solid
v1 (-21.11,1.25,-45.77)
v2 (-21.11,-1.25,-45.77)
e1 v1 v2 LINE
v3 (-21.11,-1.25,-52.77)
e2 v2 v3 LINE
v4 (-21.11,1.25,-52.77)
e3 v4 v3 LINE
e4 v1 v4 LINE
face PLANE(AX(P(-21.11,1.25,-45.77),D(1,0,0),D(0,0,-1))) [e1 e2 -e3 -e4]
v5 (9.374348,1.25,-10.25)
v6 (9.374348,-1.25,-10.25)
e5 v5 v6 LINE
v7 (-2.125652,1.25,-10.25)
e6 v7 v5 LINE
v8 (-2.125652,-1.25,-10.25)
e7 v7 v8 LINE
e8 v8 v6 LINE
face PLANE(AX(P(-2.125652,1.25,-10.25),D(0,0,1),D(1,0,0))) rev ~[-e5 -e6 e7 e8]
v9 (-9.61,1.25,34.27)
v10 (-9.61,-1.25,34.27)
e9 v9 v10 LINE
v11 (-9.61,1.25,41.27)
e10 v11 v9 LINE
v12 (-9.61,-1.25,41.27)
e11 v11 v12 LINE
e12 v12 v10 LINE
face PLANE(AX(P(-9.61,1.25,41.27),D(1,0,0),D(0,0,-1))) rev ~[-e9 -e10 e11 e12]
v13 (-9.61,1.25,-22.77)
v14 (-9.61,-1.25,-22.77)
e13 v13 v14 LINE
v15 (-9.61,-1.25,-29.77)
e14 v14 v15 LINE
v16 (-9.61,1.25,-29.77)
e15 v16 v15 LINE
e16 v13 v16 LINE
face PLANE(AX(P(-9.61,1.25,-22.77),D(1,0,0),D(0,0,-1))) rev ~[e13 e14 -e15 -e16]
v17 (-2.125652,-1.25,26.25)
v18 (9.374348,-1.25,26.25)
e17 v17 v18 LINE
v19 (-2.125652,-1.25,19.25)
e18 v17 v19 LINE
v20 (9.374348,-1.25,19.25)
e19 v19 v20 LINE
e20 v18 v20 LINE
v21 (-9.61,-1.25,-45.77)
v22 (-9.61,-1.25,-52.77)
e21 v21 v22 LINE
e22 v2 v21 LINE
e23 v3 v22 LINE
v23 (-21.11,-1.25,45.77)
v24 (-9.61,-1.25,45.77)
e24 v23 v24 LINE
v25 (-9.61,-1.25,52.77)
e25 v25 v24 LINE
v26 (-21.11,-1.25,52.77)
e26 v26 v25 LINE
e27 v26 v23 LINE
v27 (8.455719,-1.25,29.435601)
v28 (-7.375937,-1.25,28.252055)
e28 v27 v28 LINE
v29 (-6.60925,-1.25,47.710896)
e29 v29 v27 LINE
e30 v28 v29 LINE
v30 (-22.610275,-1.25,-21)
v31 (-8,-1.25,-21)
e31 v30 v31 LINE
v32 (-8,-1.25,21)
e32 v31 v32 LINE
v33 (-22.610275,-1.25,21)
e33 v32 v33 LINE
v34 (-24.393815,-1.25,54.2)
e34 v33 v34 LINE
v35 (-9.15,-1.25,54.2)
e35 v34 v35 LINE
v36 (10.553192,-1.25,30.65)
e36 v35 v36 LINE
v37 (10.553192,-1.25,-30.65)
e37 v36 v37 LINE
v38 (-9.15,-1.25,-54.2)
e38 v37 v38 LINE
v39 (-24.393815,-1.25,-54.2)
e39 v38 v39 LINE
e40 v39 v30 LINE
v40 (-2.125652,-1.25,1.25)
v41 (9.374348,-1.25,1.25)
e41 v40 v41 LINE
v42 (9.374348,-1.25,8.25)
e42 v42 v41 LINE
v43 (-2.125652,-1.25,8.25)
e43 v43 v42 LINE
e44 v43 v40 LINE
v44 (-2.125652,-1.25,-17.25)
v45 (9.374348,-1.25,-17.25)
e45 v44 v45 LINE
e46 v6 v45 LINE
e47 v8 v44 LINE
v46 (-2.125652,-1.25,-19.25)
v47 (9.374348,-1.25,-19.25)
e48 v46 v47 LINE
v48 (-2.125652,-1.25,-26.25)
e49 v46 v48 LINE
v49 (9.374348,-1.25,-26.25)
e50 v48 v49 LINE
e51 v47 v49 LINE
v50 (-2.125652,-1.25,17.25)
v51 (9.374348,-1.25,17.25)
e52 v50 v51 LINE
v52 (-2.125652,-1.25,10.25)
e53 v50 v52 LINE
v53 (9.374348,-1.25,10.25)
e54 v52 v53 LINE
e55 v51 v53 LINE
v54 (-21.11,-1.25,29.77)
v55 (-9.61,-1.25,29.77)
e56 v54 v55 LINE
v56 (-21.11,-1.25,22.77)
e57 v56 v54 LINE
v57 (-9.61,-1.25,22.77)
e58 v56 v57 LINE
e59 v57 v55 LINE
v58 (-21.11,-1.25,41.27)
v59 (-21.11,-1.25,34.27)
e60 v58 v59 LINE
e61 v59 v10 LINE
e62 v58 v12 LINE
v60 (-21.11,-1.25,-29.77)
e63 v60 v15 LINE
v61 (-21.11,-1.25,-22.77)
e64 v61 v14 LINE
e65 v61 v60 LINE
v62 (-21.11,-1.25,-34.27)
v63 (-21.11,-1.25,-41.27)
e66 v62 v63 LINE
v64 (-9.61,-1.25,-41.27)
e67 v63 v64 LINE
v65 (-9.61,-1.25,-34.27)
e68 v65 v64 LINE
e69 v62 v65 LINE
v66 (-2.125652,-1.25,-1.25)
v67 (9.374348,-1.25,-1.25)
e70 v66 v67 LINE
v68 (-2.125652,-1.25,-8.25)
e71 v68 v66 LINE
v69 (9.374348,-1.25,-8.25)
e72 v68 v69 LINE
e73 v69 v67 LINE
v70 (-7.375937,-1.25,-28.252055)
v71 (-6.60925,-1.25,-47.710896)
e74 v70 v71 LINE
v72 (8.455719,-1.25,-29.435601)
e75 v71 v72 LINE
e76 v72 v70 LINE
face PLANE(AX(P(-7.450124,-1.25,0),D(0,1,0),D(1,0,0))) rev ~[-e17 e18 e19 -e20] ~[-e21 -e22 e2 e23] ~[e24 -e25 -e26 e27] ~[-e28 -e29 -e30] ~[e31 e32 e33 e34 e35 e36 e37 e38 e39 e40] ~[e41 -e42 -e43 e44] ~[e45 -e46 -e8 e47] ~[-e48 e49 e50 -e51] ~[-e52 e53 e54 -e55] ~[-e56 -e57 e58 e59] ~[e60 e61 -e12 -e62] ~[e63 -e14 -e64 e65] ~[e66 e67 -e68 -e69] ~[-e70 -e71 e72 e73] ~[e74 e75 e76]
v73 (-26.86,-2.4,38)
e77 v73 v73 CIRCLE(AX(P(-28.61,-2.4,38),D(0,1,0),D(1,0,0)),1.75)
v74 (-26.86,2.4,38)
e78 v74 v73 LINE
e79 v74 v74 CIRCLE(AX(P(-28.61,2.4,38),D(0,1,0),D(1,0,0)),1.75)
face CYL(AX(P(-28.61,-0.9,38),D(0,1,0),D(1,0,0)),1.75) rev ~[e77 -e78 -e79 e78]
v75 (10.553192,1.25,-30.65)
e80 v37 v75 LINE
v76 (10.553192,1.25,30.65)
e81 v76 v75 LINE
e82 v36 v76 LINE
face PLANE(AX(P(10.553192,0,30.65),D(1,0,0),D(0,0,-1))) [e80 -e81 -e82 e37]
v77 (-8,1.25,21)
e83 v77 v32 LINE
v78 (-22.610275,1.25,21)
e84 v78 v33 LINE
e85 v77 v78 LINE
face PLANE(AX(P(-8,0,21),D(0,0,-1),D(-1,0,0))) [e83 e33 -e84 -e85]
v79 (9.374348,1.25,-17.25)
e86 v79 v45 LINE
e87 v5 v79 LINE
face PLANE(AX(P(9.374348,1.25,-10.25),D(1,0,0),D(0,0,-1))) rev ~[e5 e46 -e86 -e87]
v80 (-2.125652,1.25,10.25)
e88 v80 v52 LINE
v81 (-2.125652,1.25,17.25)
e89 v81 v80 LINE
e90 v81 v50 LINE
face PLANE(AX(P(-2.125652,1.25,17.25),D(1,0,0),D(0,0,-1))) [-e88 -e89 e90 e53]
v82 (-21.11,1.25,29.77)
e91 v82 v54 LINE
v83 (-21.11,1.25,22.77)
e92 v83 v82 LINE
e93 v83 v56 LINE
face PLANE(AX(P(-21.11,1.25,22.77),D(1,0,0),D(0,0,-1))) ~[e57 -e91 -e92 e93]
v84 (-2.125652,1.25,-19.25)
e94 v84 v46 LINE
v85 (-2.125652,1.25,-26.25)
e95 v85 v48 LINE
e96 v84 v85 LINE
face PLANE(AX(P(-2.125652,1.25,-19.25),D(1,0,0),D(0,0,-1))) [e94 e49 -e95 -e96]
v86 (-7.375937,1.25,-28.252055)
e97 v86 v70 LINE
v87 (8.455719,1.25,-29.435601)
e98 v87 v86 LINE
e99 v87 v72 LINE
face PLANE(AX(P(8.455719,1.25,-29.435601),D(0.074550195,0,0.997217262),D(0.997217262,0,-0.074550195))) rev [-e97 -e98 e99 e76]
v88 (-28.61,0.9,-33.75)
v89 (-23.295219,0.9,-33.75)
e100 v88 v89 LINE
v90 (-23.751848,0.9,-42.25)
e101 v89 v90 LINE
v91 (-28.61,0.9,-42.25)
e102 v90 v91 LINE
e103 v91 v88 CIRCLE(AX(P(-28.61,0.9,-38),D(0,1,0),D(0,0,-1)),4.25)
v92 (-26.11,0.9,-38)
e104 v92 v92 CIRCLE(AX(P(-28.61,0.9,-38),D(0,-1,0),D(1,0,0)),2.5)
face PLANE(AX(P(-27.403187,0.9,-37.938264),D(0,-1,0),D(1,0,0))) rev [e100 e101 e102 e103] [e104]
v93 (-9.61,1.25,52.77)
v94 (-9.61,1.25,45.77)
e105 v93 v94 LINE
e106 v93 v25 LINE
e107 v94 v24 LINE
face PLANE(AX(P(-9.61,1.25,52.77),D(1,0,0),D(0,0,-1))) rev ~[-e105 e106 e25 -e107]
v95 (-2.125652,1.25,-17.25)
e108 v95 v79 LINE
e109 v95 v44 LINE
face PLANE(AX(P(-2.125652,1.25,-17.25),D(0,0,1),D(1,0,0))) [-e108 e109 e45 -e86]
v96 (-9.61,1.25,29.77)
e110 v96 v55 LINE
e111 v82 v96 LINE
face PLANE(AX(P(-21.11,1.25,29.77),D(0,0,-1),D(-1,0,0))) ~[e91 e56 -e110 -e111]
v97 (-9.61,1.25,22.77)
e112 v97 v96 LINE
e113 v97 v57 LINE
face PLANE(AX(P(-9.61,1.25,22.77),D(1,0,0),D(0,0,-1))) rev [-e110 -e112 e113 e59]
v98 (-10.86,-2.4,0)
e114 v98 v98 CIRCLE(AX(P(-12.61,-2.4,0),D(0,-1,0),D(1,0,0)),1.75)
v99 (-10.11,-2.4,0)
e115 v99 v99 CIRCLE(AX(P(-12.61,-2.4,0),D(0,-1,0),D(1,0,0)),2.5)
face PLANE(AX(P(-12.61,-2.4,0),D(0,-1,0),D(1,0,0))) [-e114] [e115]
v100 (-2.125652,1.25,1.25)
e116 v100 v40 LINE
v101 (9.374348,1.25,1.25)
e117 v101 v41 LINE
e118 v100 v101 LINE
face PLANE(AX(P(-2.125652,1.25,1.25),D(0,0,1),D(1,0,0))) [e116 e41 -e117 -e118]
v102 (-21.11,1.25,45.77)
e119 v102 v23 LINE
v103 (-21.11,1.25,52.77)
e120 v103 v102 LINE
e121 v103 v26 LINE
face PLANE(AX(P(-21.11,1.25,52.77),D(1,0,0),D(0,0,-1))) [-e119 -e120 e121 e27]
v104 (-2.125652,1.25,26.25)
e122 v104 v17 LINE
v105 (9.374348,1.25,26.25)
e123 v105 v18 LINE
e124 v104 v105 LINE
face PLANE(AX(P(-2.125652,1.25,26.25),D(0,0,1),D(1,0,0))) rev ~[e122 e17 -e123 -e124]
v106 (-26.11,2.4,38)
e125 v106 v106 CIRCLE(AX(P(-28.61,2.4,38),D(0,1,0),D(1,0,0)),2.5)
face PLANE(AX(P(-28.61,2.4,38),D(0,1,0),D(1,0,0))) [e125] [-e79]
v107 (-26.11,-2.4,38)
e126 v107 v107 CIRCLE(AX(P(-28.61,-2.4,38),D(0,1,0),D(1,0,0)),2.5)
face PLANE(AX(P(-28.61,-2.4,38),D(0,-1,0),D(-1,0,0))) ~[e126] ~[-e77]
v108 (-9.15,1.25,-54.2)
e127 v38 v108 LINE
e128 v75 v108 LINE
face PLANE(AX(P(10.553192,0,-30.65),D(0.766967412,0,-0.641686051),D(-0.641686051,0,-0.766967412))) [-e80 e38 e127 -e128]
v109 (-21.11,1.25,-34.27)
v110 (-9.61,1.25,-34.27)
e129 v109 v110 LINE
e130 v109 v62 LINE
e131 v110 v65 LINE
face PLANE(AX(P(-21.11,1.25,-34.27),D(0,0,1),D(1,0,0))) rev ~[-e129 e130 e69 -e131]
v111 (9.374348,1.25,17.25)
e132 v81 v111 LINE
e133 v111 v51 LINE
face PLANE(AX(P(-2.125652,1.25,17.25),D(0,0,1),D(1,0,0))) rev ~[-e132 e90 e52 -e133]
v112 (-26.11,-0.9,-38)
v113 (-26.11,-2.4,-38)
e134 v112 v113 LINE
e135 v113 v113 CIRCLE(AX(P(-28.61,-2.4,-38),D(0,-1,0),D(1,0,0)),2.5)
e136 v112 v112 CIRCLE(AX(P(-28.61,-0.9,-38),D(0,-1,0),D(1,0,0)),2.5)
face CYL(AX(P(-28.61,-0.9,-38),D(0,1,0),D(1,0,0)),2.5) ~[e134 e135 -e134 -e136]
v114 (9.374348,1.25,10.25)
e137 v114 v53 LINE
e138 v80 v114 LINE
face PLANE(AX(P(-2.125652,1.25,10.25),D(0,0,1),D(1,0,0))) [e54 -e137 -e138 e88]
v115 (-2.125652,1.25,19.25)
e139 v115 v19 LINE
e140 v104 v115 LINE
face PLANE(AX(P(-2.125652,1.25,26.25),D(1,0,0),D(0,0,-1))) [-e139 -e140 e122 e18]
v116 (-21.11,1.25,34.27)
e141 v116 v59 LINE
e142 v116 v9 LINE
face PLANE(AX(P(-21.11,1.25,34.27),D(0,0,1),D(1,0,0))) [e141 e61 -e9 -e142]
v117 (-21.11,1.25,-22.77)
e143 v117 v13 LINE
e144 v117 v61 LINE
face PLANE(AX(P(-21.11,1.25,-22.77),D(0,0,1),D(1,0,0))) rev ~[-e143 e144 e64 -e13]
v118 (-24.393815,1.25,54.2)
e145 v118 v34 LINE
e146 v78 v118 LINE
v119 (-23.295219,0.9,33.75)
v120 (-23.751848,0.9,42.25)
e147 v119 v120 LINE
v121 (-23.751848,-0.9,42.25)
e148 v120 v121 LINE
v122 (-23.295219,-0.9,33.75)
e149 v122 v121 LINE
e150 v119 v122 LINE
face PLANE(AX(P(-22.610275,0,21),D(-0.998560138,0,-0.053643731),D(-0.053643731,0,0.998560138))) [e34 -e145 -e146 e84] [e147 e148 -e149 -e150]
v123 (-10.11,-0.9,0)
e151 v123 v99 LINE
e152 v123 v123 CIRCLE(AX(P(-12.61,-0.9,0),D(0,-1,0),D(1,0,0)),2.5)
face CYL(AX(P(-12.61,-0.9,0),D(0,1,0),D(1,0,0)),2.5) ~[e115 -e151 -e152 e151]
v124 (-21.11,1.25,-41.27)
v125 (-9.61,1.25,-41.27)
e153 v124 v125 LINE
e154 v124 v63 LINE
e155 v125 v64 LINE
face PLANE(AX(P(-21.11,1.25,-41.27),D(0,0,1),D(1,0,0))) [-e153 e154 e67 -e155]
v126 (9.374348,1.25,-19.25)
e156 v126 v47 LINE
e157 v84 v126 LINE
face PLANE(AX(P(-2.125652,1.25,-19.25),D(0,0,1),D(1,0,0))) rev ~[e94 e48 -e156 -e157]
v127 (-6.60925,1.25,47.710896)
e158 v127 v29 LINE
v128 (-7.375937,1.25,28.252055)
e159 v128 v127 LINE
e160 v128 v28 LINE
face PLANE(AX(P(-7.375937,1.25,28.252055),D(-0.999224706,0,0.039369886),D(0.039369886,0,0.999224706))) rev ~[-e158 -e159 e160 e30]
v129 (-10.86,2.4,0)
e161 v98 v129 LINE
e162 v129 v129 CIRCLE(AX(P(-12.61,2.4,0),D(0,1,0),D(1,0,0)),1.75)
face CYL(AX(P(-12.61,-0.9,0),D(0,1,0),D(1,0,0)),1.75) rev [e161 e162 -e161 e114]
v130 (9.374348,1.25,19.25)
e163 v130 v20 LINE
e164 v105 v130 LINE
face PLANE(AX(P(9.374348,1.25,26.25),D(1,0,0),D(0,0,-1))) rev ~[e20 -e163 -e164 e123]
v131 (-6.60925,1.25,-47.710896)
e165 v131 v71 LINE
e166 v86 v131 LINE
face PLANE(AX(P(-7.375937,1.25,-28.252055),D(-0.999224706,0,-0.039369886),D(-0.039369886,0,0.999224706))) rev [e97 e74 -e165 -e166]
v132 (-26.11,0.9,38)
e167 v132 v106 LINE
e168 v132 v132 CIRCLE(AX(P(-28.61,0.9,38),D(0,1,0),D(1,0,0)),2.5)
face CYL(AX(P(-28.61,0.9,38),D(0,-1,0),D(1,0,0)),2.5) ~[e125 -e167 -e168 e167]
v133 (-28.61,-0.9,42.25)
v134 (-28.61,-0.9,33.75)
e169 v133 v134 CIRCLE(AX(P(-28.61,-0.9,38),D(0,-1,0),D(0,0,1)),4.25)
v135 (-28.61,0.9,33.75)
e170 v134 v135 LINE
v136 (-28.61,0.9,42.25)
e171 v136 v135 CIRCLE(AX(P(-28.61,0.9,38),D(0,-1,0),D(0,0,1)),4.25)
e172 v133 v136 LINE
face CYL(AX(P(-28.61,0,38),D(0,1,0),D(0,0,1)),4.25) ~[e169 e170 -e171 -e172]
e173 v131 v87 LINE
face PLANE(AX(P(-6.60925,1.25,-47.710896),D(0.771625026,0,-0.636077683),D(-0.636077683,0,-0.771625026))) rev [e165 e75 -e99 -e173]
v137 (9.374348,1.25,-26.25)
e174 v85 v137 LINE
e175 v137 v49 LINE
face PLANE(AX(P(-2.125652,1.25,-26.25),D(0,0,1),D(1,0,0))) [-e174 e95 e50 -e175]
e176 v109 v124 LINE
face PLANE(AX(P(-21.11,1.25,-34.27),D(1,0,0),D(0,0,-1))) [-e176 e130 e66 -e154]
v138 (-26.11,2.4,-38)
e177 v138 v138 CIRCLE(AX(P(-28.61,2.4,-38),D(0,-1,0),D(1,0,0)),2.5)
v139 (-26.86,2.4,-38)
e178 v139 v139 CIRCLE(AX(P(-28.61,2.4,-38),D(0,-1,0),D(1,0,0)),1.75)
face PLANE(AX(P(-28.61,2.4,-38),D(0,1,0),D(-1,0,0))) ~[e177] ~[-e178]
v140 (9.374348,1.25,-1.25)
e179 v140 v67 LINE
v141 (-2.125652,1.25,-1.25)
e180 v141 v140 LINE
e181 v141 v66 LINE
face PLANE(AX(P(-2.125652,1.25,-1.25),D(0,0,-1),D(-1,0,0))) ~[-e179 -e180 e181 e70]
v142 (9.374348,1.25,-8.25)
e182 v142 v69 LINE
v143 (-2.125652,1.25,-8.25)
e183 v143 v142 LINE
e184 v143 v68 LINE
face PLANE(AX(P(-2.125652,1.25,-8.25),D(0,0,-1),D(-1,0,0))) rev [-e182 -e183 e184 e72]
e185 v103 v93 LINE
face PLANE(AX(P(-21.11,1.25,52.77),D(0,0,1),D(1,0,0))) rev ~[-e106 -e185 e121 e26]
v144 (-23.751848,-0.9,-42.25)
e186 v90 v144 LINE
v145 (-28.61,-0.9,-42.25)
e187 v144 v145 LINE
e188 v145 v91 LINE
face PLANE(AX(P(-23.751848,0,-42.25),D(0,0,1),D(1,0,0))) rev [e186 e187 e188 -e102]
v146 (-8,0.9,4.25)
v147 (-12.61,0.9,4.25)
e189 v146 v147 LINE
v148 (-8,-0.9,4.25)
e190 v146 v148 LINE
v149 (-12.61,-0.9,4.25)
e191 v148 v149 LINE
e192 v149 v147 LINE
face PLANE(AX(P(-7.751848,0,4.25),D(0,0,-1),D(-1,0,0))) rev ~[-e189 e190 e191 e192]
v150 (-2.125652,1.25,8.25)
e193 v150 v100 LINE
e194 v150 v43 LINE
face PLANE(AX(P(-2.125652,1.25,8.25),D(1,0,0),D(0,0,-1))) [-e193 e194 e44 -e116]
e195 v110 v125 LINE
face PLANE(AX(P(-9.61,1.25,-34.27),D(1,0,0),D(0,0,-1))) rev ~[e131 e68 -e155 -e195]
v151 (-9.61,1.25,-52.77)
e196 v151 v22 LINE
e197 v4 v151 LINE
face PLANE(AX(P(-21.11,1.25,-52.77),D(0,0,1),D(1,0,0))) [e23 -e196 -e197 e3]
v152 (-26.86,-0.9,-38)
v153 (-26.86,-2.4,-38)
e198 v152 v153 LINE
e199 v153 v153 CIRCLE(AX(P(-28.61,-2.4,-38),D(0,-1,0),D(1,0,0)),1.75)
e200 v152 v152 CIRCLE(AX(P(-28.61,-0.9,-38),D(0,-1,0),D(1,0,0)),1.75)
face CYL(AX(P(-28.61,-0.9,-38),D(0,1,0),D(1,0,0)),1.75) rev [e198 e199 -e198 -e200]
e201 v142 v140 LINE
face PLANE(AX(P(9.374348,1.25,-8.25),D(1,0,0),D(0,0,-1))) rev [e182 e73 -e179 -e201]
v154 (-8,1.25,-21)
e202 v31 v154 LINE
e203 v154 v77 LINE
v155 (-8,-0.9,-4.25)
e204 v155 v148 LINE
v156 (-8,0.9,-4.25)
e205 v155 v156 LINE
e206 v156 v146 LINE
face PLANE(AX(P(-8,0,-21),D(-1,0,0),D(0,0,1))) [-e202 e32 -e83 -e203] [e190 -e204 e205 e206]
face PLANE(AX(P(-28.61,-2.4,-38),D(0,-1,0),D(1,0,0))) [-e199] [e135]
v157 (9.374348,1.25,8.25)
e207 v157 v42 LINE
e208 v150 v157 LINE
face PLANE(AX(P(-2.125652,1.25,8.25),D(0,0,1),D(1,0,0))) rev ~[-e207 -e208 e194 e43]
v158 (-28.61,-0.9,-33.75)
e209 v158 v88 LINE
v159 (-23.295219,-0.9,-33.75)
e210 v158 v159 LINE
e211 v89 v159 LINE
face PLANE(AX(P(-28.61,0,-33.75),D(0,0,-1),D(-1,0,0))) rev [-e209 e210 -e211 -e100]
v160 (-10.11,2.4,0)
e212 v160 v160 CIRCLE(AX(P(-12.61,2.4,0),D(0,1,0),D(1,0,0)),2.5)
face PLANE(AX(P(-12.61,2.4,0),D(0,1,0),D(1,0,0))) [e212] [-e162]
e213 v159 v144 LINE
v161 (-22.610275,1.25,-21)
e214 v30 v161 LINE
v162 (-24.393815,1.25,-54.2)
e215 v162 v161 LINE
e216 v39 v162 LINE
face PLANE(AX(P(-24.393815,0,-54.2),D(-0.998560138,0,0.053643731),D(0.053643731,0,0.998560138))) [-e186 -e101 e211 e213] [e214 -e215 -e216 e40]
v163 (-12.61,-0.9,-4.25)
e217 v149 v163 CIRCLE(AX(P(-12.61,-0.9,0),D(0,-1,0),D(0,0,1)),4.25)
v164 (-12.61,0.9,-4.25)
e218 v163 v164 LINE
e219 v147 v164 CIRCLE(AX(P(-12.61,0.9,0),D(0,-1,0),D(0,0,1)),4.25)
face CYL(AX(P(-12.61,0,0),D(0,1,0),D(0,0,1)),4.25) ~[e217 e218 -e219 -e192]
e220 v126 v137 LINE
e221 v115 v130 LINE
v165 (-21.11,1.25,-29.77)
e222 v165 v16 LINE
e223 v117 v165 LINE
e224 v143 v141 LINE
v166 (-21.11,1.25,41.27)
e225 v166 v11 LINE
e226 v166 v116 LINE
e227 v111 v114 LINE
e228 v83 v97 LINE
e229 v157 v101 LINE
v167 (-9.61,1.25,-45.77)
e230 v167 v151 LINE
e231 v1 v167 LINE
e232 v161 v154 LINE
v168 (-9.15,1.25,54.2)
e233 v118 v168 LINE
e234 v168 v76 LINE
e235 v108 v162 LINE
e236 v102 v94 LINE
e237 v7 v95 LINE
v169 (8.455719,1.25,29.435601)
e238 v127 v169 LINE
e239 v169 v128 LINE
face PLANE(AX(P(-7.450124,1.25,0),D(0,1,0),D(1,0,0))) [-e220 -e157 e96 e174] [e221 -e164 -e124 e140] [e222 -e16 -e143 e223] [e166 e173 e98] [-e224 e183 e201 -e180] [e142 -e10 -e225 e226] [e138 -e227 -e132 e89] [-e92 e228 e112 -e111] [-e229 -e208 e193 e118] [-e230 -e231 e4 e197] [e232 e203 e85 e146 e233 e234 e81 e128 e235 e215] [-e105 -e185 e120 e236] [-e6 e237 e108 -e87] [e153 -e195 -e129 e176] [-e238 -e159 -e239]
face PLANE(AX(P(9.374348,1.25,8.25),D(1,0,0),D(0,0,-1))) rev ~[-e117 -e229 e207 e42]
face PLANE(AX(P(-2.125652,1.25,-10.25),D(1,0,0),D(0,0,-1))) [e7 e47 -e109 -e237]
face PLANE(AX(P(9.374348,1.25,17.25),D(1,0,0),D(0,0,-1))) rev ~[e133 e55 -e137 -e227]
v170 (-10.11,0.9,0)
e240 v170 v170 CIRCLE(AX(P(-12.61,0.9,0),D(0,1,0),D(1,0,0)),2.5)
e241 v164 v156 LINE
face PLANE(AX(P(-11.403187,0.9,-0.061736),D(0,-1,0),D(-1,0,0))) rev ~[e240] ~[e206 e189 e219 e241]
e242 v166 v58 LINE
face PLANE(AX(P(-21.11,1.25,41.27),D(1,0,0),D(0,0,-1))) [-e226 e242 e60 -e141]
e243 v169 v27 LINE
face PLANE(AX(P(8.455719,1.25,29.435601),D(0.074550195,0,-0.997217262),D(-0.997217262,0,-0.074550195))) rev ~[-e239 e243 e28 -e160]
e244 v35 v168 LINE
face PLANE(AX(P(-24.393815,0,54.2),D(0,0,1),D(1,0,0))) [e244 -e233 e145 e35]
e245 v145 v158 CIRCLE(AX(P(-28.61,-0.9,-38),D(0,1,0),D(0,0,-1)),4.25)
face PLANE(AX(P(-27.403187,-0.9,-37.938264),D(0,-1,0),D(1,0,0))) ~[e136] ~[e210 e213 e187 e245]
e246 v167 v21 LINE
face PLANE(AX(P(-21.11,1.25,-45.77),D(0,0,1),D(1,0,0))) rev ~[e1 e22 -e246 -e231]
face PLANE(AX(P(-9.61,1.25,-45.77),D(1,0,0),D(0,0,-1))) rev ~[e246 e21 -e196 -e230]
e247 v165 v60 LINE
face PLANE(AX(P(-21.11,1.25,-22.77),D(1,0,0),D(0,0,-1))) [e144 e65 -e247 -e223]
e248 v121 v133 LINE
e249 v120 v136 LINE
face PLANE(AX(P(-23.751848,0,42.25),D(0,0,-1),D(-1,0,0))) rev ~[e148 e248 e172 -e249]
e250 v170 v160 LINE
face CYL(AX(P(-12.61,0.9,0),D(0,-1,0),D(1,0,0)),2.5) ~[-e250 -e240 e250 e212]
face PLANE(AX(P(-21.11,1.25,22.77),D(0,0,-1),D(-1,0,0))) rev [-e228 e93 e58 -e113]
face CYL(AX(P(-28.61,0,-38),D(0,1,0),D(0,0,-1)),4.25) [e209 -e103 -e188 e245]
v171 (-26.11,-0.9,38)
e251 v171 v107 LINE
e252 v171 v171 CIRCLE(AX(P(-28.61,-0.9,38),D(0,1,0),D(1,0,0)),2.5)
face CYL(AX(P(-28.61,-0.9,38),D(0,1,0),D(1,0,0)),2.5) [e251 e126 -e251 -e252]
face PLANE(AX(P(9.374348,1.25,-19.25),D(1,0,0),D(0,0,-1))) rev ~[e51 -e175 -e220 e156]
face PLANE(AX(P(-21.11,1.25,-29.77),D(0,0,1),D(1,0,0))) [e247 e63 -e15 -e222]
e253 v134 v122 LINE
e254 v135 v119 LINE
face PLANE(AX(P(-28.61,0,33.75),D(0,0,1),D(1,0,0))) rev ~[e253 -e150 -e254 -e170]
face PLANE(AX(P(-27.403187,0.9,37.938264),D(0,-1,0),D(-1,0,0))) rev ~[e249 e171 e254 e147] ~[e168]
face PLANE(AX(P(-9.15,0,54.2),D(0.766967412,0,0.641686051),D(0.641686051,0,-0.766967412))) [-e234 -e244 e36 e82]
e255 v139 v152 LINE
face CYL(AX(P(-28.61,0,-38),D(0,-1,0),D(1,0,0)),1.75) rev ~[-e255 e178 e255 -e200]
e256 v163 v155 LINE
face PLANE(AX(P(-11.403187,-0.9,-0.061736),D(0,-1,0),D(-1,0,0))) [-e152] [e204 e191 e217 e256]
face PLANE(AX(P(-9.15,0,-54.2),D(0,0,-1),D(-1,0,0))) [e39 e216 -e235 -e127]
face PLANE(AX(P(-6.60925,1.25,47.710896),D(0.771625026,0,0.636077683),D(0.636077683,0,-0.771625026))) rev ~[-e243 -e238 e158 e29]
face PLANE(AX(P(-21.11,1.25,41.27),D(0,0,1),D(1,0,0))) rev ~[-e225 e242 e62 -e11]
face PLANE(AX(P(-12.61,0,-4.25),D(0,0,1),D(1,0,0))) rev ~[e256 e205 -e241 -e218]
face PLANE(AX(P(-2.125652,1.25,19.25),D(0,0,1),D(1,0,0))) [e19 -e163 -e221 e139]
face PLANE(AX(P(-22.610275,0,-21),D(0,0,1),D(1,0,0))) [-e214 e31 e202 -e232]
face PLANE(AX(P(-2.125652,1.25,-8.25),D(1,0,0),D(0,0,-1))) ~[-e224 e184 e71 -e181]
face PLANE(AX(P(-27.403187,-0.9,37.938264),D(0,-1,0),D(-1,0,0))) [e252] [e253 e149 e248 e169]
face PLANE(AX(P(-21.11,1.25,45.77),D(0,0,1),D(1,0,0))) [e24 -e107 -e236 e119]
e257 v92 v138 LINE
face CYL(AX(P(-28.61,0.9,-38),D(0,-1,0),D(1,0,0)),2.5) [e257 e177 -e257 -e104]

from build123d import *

# Parameters (mm, degrees)
RESSALTO_EXTRUS_O1_DEPTH         = 1.25
ESBO_O5_W                        = 11.5
ESBO_O5_H                        = 7
CORTE_EXTRUS_O1_DEPTH            = 2.5
PADR_O_LINEAR1_COUNT             = 3
PADR_O_LINEAR1_PITCH             = 9
ESBO_O8_W                        = 11.5
ESBO_O8_H                        = 7
CORTE_EXTRUS_O4_DEPTH            = 10
PADR_O_LINEAR3_COUNT             = 3
PADR_O_LINEAR3_PITCH             = 11.5
ESPELHAR1_COPY_1_SKETCH_W        = 11.5
ESPELHAR1_COPY_1_SKETCH_H        = 7
ESPELHAR1_COPY_1_DEPTH           = 10
ESPELHAR1_COPY_2_SKETCH_W        = 11.5
ESPELHAR1_COPY_2_SKETCH_H        = 7
ESPELHAR1_COPY_2_DEPTH           = 10
ESPELHAR2_COPY_1_SKETCH_W        = 11.5
ESPELHAR2_COPY_1_SKETCH_H        = 7
ESPELHAR2_COPY_1_DEPTH           = 2.5
ESPELHAR2_COPY_2_SKETCH_W        = 11.5
ESPELHAR2_COPY_2_SKETCH_H        = 7
ESPELHAR2_COPY_2_DEPTH           = 2.5
CORTE_EXTRUS_O5_DEPTH            = 10
ESBO_O10_R                       = 1.75
RESSALTO_EXTRUS_O2_DEPTH         = 0.9
ESBO_O11_R                       = 2.5
ESBO_O11_R_2                     = 1.75
RESSALTO_EXTRUS_O3_DEPTH         = 1.5
PADR_O_LINEAR4_COUNT             = 2
PADR_O_LINEAR4_PITCH             = 38
PADR_O_LINEAR4_COUNT_DIR2        = 2
PADR_O_LINEAR4_PITCH_DIR2        = 16
PADR_O_LINEAR4_COPY_1_SKETCH_R   = 2.5
PADR_O_LINEAR4_COPY_1_SKETCH_R_2 = 1.75
PADR_O_LINEAR4_COPY_1_DEPTH      = 1.5
ESPELHAR5_COPY_1_SKETCH_R        = 2.5
ESPELHAR5_COPY_1_SKETCH_R_2      = 1.75
ESPELHAR5_COPY_1_DEPTH           = 1.5


with BuildPart() as part:
    # Esboço1 → Ressalto-extrusão1 (new body, symmetric)
    with BuildSketch(Plane(origin=(0, 0, 0), x_dir=(1, 0, 0), z_dir=(0, 1, 0))):
        Polygon((-24.393815238, -54.2), (-9.15, -54.2), (10.553192421, -30.65), (10.553192421, 30.65), (-9.15, 54.2), (-24.393815238, 54.2), (-22.610275313, 21), (-8, 21), (-8, -21), (-22.610275313, -21), align=None)
    extrude(amount=RESSALTO_EXTRUS_O1_DEPTH, both=True)

    # Esboço5 → Corte-extrusão1 (cut)
    with BuildSketch(Plane(origin=(0, 1.25, 0), x_dir=(1, 0, 0), z_dir=(0, 1, 0))):
        with Locations((3.624348025, -4.75)):
            Rectangle(ESBO_O5_W, ESBO_O5_H)
    corte_extrus_o1 = extrude(amount=-CORTE_EXTRUS_O1_DEPTH, mode=Mode.SUBTRACT)

    # Padrão linear1: Corte-extrusão1 ×3
    with Locations(*[(0, 0, i * PADR_O_LINEAR1_PITCH) for i in range(1, PADR_O_LINEAR1_COUNT)]):
        add(corte_extrus_o1, mode=Mode.SUBTRACT)

    # Esboço8 → Corte-extrusão4 (cut)
    with BuildSketch(Plane(origin=(0, 1.25, 0), x_dir=(1, 0, 0), z_dir=(0, 1, 0))):
        with Locations((-15.36, 26.27)):
            Rectangle(ESBO_O8_W, ESBO_O8_H)
    corte_extrus_o4 = extrude(amount=-CORTE_EXTRUS_O4_DEPTH, mode=Mode.SUBTRACT)

    # Padrão linear3: Corte-extrusão4 ×3
    with Locations(*[(0, 0, -i * PADR_O_LINEAR3_PITCH) for i in range(1, PADR_O_LINEAR3_COUNT)]):
        add(corte_extrus_o4, mode=Mode.SUBTRACT)

    # Espelhar1: Corte-extrusão4 across plane
    add(corte_extrus_o4.mirror(Plane.XY), mode=Mode.SUBTRACT)

    # Espelhar1 copy 1 sketch → Espelhar1 copy 1 (cut)
    with BuildSketch(Plane(origin=(0, 1.25, 11.5), x_dir=(1, 0, 0), z_dir=(0, 1, 0))):
        with Locations((-15.36, -26.27)):
            Rectangle(ESPELHAR1_COPY_1_SKETCH_W, ESPELHAR1_COPY_1_SKETCH_H)
    extrude(amount=-ESPELHAR1_COPY_1_DEPTH, mode=Mode.SUBTRACT)

    # Espelhar1 copy 2 sketch → Espelhar1 copy 2 (cut)
    with BuildSketch(Plane(origin=(0, 1.25, 23), x_dir=(1, 0, 0), z_dir=(0, 1, 0))):
        with Locations((-15.36, -26.27)):
            Rectangle(ESPELHAR1_COPY_2_SKETCH_W, ESPELHAR1_COPY_2_SKETCH_H)
    extrude(amount=-ESPELHAR1_COPY_2_DEPTH, mode=Mode.SUBTRACT)

    # Espelhar2: Corte-extrusão1 across plane
    add(corte_extrus_o1.mirror(Plane.XY), mode=Mode.SUBTRACT)

    # Espelhar2 copy 1 sketch → Espelhar2 copy 1 (cut)
    with BuildSketch(Plane(origin=(0, 1.25, -9), x_dir=(1, 0, 0), z_dir=(0, 1, 0))):
        with Locations((3.624348025, 4.75)):
            Rectangle(ESPELHAR2_COPY_1_SKETCH_W, ESPELHAR2_COPY_1_SKETCH_H)
    extrude(amount=-ESPELHAR2_COPY_1_DEPTH, mode=Mode.SUBTRACT)

    # Espelhar2 copy 2 sketch → Espelhar2 copy 2 (cut)
    with BuildSketch(Plane(origin=(0, 1.25, -18), x_dir=(1, 0, 0), z_dir=(0, 1, 0))):
        with Locations((3.624348025, 4.75)):
            Rectangle(ESPELHAR2_COPY_2_SKETCH_W, ESPELHAR2_COPY_2_SKETCH_H)
    extrude(amount=-ESPELHAR2_COPY_2_DEPTH, mode=Mode.SUBTRACT)

    # Esboço9 → Corte-extrusão5 (cut)
    with BuildSketch(Plane(origin=(0, 1.25, 0), x_dir=(1, 0, 0), z_dir=(0, 1, 0))):
        Polygon((8.455719459, -29.435601452), (-7.375936588, -28.25205491), (-6.609249814, -47.710896474), align=None)
    corte_extrus_o5 = extrude(amount=-CORTE_EXTRUS_O5_DEPTH, mode=Mode.SUBTRACT)

    # Espelhar3: Corte-extrusão5 across plane
    add(corte_extrus_o5.mirror(Plane.XY), mode=Mode.SUBTRACT)

    # Esboço10 → Ressalto-extrusão2 (add, symmetric)
    with BuildSketch(Plane(origin=(0, 0, 0), x_dir=(1, 0, 0), z_dir=(0, 1, 0))):
        with BuildLine():
            Line((-28.61, -33.75), (-23.29521911, -33.75))
            Line((-23.29521911, -33.75), (-23.751848307, -42.25))
            Line((-23.751848307, -42.25), (-28.61, -42.25))
            ThreePointArc((-28.61, -42.25), (-32.86, -38), (-28.61, -33.75))
        make_face()
        with Locations((-28.61, -38)):
            Circle(ESBO_O10_R, mode=Mode.SUBTRACT)
    ressalto_extrus_o2 = extrude(amount=RESSALTO_EXTRUS_O2_DEPTH, both=True)

    # Esboço11 → Ressalto-extrusão3 (add)
    with BuildSketch(Plane(origin=(0, 0.9, 0), x_dir=(1, 0, 0), z_dir=(0, 1, 0))):
        with Locations((-28.61, -38)):
            Circle(ESBO_O11_R)
        with Locations((-28.61, -38)):
            Circle(ESBO_O11_R_2, mode=Mode.SUBTRACT)
    ressalto_extrus_o3 = extrude(amount=RESSALTO_EXTRUS_O3_DEPTH)

    # Espelhar4: Ressalto-extrusão3 across plane
    add(ressalto_extrus_o3.mirror(Plane.ZX))

    # Padrão linear4: Ressalto-extrusão2, Ressalto-extrus_o3 2 × 2, 2 skipped
    with Locations(*[(j * PADR_O_LINEAR4_PITCH_DIR2, 0, -i * PADR_O_LINEAR4_PITCH) for i in range(PADR_O_LINEAR4_COUNT) for j in range(PADR_O_LINEAR4_COUNT_DIR2) if (i, j) not in ((0, 0), (0, 1), (1, 0))]):
        add(ressalto_extrus_o2)
        add(ressalto_extrus_o3)

    # Padrão linear4 copy 1 sketch → Padrão linear4 copy 1 (add)
    with BuildSketch(Plane(origin=(16, -0.9, -38), x_dir=(1, 0, 0), z_dir=(0, -1, 0))):
        with Locations((-28.61, 38)):
            Circle(PADR_O_LINEAR4_COPY_1_SKETCH_R)
        with Locations((-28.61, 38)):
            Circle(PADR_O_LINEAR4_COPY_1_SKETCH_R_2, mode=Mode.SUBTRACT)
    extrude(amount=PADR_O_LINEAR4_COPY_1_DEPTH)

    # Espelhar5: Ressalto-extrusão3, Ressalto-extrusão2 across plane
    add(ressalto_extrus_o3.mirror(Plane.XY))
    add(ressalto_extrus_o2.mirror(Plane.XY))

    # Espelhar5 copy 1 sketch → Espelhar5 copy 1 (add)
    with BuildSketch(Plane.XZ.offset(0.9)):
        with Locations((-28.61, -38)):
            Circle(ESPELHAR5_COPY_1_SKETCH_R)
        with Locations((-28.61, -38)):
            Circle(ESPELHAR5_COPY_1_SKETCH_R_2, mode=Mode.SUBTRACT)
    extrude(amount=ESPELHAR5_COPY_1_DEPTH)


solid = part.part
